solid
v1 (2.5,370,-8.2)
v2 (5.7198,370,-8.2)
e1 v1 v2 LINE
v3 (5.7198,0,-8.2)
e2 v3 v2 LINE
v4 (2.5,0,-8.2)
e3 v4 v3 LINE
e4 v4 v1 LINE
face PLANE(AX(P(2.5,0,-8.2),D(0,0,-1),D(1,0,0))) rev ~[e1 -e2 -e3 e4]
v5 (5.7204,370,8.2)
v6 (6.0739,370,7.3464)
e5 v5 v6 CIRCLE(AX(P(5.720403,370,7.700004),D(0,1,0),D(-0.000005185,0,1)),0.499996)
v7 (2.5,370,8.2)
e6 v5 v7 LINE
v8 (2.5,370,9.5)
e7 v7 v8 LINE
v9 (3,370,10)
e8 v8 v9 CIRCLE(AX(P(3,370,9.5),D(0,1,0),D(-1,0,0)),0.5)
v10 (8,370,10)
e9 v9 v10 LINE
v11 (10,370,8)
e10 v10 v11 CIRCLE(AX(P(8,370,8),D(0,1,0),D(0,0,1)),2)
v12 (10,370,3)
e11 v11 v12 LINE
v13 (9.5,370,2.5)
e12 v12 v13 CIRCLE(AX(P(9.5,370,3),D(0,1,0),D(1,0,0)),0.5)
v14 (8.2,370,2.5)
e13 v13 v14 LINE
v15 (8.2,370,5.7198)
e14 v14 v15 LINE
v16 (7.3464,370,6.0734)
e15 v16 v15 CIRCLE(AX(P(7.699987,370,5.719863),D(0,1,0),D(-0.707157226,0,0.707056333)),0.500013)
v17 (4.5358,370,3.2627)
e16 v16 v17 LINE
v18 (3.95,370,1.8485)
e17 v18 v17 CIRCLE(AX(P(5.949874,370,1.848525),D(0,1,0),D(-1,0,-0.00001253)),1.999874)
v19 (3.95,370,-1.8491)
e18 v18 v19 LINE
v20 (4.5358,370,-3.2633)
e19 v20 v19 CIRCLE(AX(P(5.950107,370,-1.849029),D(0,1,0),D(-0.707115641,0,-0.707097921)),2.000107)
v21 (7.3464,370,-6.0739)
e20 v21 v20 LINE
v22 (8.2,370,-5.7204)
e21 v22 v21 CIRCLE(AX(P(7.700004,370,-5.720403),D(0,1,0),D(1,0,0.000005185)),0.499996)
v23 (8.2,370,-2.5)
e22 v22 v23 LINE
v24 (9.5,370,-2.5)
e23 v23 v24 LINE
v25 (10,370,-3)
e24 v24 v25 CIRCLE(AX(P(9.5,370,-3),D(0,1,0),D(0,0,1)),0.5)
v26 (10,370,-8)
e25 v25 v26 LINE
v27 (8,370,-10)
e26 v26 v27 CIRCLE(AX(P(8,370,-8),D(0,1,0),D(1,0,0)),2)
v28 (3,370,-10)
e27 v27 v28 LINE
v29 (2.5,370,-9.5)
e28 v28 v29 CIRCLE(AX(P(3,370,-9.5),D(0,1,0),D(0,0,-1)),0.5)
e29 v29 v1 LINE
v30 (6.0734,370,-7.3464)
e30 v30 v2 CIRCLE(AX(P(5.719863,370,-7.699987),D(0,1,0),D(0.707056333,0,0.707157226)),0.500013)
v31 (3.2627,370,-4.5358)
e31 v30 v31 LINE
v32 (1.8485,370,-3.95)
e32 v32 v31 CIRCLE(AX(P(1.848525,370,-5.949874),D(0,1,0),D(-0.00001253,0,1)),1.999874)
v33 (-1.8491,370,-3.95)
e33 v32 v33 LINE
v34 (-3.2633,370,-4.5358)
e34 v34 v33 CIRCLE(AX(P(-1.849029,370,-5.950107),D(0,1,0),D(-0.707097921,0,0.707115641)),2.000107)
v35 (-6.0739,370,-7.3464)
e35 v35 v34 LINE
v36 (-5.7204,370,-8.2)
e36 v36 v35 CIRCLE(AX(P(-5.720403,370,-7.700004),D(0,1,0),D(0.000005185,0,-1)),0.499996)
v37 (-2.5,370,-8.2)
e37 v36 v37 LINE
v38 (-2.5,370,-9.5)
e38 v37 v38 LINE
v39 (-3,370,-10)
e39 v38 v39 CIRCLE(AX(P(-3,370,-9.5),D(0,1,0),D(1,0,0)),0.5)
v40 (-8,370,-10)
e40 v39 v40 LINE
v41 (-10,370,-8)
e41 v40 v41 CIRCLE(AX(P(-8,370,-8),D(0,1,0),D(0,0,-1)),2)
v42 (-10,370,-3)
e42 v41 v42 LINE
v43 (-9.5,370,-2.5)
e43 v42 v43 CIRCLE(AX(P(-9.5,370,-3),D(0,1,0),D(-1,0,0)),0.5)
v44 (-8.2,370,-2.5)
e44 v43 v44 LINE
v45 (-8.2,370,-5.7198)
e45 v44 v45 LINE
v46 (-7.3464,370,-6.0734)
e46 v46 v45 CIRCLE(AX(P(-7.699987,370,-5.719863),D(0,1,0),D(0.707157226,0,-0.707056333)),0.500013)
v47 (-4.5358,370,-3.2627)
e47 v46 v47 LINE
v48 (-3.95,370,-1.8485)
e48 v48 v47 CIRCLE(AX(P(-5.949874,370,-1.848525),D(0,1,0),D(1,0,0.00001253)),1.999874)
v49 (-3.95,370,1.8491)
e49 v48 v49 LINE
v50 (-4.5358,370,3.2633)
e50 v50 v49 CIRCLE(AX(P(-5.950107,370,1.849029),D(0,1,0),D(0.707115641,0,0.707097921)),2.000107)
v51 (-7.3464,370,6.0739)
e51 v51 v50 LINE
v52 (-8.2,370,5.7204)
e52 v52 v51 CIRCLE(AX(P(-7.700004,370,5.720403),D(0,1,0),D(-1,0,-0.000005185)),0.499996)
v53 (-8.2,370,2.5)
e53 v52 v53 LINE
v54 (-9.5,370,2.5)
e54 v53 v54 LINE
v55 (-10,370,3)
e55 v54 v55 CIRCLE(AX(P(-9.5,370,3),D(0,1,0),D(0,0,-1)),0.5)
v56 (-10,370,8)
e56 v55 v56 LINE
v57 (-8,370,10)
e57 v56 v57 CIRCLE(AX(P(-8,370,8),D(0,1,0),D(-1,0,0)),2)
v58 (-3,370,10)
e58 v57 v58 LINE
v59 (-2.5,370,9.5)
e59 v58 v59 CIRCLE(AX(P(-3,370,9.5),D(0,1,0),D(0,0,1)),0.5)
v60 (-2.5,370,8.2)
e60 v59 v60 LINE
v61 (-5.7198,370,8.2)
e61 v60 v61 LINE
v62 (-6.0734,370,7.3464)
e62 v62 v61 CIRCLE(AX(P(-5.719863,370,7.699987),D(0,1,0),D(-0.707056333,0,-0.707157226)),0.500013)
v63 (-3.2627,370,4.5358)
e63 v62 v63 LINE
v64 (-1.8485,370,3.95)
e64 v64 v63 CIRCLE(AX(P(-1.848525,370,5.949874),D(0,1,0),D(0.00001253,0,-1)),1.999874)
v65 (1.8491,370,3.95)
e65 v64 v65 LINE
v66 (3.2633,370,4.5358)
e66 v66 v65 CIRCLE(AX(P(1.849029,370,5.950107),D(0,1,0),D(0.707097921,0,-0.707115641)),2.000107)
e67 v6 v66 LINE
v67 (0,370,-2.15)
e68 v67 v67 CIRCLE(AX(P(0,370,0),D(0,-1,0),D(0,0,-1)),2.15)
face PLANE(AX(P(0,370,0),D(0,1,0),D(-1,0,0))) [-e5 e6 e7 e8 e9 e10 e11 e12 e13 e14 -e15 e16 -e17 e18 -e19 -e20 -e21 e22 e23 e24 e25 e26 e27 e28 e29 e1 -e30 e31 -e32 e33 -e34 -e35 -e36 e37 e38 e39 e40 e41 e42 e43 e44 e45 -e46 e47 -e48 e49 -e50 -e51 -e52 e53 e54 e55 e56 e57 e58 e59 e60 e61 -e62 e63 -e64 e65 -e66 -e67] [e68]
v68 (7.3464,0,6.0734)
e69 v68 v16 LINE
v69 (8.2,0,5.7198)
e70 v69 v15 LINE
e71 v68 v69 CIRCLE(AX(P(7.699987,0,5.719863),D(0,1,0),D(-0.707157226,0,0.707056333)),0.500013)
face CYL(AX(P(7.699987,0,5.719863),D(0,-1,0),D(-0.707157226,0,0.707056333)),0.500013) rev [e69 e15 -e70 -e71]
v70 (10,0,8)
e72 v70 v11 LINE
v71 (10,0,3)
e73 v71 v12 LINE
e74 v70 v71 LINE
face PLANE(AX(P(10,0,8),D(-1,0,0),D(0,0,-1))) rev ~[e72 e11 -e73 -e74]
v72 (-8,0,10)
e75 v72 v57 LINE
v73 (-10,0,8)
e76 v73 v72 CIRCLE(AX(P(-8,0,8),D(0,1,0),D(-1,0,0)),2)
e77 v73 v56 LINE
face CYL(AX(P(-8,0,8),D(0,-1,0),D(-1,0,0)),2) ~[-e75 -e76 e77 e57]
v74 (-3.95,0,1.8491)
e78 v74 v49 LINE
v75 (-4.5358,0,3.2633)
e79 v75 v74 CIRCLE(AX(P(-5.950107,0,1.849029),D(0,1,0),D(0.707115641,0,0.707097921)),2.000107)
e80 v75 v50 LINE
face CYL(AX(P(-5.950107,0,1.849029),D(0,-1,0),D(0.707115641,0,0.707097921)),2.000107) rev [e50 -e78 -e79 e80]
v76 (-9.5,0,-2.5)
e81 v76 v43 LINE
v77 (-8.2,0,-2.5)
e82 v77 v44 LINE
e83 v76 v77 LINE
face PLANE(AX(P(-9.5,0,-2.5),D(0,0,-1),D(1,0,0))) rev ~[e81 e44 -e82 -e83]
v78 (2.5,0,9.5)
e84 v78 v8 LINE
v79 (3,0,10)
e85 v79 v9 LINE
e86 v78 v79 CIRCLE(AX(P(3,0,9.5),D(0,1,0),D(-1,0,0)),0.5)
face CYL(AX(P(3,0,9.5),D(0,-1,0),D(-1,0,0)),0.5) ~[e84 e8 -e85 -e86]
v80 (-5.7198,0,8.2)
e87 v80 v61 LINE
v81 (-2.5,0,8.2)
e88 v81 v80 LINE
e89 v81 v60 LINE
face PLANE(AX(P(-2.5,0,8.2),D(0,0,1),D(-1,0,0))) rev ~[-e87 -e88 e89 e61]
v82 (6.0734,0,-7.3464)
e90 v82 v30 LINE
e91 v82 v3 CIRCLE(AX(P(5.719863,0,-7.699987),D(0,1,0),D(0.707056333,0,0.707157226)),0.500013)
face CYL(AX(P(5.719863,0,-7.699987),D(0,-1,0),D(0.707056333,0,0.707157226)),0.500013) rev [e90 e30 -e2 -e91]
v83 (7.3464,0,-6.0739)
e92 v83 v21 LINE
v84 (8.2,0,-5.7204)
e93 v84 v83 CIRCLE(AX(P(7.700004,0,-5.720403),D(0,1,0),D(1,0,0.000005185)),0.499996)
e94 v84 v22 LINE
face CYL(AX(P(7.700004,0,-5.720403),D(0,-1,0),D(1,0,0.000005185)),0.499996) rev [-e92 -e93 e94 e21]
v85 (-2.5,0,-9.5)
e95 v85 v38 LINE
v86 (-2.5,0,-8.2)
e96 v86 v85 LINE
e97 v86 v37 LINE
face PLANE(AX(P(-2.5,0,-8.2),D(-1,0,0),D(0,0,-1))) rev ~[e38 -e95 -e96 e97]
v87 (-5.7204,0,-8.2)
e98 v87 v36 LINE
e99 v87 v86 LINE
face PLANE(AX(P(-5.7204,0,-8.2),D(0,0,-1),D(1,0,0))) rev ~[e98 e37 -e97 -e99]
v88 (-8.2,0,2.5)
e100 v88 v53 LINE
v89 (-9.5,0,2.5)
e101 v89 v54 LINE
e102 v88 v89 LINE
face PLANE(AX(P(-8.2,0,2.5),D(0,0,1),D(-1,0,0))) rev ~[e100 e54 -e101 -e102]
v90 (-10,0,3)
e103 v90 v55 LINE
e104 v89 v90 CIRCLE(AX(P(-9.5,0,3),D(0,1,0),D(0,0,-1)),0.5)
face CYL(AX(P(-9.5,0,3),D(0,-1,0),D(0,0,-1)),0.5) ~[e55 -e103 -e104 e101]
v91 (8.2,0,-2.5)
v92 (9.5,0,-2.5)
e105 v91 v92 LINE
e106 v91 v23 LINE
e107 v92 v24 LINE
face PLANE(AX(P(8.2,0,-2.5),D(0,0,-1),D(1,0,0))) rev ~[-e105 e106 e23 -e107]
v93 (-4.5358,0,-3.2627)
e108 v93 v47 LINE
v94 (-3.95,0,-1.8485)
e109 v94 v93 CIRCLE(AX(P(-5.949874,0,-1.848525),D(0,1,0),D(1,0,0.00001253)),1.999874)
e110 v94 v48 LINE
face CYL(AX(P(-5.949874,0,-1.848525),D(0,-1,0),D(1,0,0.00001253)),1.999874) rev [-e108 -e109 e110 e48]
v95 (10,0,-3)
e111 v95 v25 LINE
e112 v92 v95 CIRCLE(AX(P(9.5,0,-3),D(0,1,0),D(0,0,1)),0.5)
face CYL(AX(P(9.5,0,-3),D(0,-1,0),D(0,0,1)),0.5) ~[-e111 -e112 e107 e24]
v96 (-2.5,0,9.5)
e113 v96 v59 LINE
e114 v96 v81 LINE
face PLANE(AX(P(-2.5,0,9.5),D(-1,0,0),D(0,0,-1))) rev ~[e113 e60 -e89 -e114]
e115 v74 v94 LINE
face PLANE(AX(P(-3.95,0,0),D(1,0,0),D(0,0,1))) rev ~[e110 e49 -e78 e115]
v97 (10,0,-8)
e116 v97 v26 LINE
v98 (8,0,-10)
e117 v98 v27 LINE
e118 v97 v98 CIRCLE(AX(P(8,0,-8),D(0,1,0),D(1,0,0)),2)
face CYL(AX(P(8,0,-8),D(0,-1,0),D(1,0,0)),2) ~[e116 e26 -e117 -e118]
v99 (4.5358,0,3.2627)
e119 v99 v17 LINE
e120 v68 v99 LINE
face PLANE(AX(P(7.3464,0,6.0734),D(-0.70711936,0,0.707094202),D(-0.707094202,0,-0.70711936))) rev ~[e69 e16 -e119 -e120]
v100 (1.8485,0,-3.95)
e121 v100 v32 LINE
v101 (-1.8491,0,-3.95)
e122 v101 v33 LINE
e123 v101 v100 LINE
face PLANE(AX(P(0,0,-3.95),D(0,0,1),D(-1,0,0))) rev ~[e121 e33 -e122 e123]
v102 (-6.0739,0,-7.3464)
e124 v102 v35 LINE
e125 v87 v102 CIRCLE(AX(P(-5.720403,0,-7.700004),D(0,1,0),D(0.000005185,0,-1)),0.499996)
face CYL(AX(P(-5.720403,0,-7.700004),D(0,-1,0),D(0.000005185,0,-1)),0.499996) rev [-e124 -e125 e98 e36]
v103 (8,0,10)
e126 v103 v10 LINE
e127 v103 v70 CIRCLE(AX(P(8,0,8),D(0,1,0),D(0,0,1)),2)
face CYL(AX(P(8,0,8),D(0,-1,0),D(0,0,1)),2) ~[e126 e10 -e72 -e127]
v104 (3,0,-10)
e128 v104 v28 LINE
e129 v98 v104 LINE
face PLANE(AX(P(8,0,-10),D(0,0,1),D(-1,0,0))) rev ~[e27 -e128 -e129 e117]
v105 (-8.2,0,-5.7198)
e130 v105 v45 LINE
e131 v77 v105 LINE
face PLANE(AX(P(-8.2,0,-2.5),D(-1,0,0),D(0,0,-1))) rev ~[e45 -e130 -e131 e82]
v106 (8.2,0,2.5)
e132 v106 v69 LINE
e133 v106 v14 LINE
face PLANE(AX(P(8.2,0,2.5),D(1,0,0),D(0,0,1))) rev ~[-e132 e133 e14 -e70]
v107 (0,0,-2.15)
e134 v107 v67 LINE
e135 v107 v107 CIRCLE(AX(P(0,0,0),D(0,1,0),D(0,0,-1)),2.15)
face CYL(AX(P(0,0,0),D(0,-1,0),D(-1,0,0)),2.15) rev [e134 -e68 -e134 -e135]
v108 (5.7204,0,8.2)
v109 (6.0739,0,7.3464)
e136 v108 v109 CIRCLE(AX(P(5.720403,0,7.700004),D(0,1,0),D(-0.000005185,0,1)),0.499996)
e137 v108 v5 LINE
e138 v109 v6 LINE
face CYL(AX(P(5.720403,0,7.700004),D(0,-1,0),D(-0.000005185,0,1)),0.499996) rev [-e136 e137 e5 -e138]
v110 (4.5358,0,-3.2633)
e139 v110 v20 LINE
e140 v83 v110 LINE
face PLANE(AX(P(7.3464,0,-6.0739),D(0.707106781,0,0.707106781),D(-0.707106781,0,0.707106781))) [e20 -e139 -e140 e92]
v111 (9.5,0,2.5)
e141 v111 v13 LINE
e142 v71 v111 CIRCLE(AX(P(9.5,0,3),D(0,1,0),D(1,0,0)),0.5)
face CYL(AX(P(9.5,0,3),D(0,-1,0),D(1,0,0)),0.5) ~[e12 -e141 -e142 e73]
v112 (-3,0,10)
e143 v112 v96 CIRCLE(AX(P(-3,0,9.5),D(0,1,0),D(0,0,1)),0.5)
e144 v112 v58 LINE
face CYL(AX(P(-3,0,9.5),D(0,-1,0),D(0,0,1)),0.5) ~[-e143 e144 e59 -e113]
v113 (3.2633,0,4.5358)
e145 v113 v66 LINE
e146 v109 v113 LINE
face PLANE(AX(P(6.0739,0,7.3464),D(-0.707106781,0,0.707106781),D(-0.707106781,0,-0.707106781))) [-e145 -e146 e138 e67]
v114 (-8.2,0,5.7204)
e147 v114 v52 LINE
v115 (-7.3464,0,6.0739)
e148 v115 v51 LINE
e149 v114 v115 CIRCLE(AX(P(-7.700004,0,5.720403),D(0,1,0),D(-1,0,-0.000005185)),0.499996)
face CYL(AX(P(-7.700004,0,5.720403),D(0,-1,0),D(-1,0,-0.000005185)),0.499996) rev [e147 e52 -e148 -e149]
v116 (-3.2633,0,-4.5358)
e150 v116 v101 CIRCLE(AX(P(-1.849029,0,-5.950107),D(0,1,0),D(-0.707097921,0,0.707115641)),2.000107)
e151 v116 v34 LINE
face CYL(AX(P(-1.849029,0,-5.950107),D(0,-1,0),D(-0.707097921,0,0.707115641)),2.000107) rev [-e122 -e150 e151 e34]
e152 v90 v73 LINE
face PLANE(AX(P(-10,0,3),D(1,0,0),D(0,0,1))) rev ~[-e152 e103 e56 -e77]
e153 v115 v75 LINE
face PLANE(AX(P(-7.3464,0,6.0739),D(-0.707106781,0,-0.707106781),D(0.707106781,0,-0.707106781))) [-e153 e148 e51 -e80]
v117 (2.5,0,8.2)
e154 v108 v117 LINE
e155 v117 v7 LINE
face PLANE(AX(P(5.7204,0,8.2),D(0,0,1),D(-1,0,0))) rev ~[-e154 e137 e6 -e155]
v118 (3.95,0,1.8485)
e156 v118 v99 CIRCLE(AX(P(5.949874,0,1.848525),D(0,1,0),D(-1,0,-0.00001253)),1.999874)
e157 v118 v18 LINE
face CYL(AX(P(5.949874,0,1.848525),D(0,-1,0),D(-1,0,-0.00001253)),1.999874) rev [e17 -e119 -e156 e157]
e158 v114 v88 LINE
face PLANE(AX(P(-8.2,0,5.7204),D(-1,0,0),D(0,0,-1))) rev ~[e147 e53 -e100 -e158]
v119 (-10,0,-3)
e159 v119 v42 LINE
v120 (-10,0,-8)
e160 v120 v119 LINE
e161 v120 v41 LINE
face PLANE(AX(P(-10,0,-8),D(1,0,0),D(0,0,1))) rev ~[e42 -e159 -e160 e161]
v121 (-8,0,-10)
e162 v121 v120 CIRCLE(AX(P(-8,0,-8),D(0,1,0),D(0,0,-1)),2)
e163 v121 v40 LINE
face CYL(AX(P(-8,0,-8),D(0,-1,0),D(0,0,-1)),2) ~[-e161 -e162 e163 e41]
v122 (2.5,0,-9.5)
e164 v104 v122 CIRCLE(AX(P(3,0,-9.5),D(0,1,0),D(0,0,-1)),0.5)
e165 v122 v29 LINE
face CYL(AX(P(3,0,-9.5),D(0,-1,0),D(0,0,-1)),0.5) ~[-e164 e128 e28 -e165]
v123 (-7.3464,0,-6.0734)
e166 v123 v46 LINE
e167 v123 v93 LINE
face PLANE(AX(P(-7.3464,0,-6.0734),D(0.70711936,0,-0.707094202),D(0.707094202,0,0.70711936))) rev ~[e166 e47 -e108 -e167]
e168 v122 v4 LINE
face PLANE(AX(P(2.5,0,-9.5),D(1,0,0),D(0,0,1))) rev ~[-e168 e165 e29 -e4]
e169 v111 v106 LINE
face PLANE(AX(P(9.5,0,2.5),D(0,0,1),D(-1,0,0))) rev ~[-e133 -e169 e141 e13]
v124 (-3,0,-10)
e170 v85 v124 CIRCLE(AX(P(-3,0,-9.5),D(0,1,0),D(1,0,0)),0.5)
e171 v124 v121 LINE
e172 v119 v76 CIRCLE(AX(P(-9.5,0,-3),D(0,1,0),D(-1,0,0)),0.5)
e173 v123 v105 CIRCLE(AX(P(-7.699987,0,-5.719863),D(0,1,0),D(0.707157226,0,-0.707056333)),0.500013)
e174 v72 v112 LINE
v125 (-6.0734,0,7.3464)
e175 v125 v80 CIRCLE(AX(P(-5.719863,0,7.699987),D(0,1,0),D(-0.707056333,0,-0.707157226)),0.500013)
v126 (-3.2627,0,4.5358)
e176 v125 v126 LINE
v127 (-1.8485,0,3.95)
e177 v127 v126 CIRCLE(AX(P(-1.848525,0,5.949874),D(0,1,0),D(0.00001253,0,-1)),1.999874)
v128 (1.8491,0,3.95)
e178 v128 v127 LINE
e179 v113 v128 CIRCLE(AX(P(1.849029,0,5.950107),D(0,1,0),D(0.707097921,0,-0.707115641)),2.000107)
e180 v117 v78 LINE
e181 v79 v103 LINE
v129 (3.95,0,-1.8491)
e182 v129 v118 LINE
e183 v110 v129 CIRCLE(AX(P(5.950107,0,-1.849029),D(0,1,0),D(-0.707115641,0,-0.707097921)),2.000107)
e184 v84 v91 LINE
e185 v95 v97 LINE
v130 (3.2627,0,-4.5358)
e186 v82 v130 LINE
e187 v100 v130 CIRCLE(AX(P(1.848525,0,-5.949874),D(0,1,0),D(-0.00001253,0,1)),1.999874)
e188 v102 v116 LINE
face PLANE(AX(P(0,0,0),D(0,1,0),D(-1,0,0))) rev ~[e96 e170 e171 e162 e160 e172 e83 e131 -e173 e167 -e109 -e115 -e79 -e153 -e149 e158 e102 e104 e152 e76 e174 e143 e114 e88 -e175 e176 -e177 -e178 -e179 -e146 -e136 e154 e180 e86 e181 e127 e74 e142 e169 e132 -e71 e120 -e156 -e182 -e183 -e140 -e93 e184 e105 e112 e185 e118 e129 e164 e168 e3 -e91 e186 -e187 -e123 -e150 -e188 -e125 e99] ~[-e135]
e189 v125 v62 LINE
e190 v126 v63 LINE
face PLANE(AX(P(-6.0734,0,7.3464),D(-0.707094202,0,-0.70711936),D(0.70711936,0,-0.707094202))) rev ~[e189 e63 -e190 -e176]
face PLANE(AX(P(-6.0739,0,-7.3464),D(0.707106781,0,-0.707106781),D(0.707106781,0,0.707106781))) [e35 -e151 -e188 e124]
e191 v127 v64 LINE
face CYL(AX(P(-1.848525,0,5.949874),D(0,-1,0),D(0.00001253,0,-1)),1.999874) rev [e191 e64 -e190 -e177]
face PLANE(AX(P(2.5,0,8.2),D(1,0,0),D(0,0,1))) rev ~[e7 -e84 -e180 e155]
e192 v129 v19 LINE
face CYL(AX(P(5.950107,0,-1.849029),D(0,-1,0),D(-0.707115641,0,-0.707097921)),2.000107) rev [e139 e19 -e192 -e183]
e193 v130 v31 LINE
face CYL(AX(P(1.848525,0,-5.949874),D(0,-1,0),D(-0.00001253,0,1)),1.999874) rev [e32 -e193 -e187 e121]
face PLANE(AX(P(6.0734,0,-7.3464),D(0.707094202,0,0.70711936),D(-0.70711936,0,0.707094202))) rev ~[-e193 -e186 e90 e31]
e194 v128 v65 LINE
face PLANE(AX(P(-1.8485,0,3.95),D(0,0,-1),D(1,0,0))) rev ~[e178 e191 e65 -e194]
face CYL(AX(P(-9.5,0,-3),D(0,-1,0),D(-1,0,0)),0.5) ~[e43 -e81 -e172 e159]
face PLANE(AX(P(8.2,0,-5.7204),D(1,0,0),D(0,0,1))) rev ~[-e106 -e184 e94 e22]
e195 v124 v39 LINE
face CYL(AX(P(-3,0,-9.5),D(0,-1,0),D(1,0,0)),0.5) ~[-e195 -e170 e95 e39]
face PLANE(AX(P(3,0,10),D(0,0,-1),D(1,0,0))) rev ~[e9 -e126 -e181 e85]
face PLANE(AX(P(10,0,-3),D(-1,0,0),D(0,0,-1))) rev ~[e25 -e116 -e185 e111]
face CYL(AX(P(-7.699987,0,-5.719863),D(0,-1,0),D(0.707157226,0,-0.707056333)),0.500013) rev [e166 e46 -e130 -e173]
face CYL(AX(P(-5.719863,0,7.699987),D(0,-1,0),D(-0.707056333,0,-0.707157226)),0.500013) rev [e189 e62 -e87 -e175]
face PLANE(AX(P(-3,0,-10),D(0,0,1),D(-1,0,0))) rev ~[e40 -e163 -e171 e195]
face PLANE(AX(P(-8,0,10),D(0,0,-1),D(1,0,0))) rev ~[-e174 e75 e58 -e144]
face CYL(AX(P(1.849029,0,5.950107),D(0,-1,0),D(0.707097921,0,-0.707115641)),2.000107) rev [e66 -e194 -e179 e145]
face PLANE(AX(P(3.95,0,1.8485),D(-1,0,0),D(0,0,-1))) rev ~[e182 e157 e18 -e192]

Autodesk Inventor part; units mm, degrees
ref_plane "YZ Plane" through (0, 0, 0) normal (1, 0, 0) x (0, 1, 0)
ref_plane "XZ Plane" through (0, 0, 0) normal (0, 1, 0) x (-1, 0, 0)
ref_plane "XY Plane" through (0, 0, 0) normal (0, 0, 1) x (1, 0, 0)
sketch "Sketch1" plane through (0, 0, 0) normal (0, 1, 0) x (-1, 0, 0)
  line L0 (8, 10) -> (3, 10)
  line L1 (10, 3) -> (10, 8)
  line L2 (2.5, 9.5) -> (2.5, 8.2)
  line L3 (2.5, 8.2) -> (5.7198, 8.2)
  line L4 (6.0734, 7.3464) -> (3.2627, 4.5358)
  line L5 (1.8485, 3.95) -> (0, 3.95)
  line L6 (0, 3.95) -> (0, 2.15)
  line L7 (0, 2.15) -> (0, 2.15)
  line L8 (2.15, 0) -> (2.15, 0)
  line L9 (2.15, 0) -> (3.95, 0)
  line L10 (8.2, 5.7204) -> (8.2, 2.5)
  line L11 (8.2, 2.5) -> (9.5, 2.5)
  line L12 (0, 29.0836) -> (0, -4.1523) construction
  line L13 (3.95, 0) -> (3.95, 1.8491)
  line L14 (7.3464, 6.0739) -> (4.5358, 3.2633)
  arc A0 (10, 8) -> (8, 10) centre (8, 8) ccw
  arc A1 (8.2, 5.7204) -> (7.3464, 6.0739) centre (7.7, 5.7204) ccw
  arc A2 (6.0734, 7.3464) -> (5.7198, 8.2) centre (5.7198, 7.7) ccw
  arc A3 (4.5358, 3.2633) -> (3.95, 1.8491) centre (5.95, 1.8491) ccw
  arc A4 (1.8485, 3.95) -> (3.2627, 4.5358) centre (1.8485, 5.95) ccw
  arc A5 (2.15, 0) -> (0, 2.15) centre (0, 0) ccw
  arc A6 (3, 10) -> (2.5, 9.5) centre (3, 9.5) ccw
  arc A7 (9.5, 2.5) -> (10, 3) centre (9.5, 3) ccw
  line L15 (18.5462, 0) -> (-9.9601, 0) construction
  line L16 (-3, 10) -> (-8, 10)
  arc A8 (-2.5, 9.5) -> (-3, 10) centre (-3, 9.5) ccw
  line L17 (-2.5, 8.2) -> (-2.5, 9.5)
  line L18 (-5.7204, 8.2) -> (-2.5, 8.2)
  arc A9 (-5.7204, 8.2) -> (-6.0739, 7.3464) centre (-5.7204, 7.7) ccw
  line L19 (-6.0739, 7.3464) -> (-3.2633, 4.5358)
  arc A10 (-3.2633, 4.5358) -> (-1.8491, 3.95) centre (-1.8491, 5.95) ccw
  line L20 (0, 3.95) -> (-1.8491, 3.95)
  line L21 (0, 2.15) -> (0, 3.95)
  arc A11 (0, 2.15) -> (-2.15, 0) centre (0, 0) ccw
  line L22 (-3.95, 0) -> (-2.15, 0)
  line L23 (-3.95, 1.8485) -> (-3.95, 0)
  arc A12 (-3.95, 1.8485) -> (-4.5358, 3.2627) centre (-5.95, 1.8485) ccw
  line L24 (-7.3464, 6.0734) -> (-4.5358, 3.2627)
  arc A13 (-7.3464, 6.0734) -> (-8.2, 5.7198) centre (-7.7, 5.7198) ccw
  line L25 (-8.2, 2.5) -> (-8.2, 5.7198)
  line L26 (-9.5, 2.5) -> (-8.2, 2.5)
  arc A14 (-10, 3) -> (-9.5, 2.5) centre (-9.5, 3) ccw
  line L27 (-10, 8) -> (-10, 3)
  arc A15 (-8, 10) -> (-10, 8) centre (-8, 8) ccw
  line L28 (-10, -3) -> (-10, -8)
  arc A16 (-9.5, -2.5) -> (-10, -3) centre (-9.5, -3) ccw
  line L29 (-8.2, -2.5) -> (-9.5, -2.5)
  line L30 (-8.2, -5.7204) -> (-8.2, -2.5)
  arc A17 (-8.2, -5.7204) -> (-7.3464, -6.0739) centre (-7.7, -5.7204) ccw
  line L31 (-7.3464, -6.0739) -> (-4.5358, -3.2633)
  arc A18 (-4.5358, -3.2633) -> (-3.95, -1.8491) centre (-5.95, -1.8491) ccw
  line L32 (-3.95, 0) -> (-3.95, -1.8491)
  line L33 (-2.15, 0) -> (-3.95, 0)
  arc A19 (-2.15, 0) -> (0, -2.15) centre (0, 0) ccw
  line L34 (0, -3.95) -> (0, -2.15)
  line L35 (-1.8485, -3.95) -> (0, -3.95)
  arc A20 (-1.8485, -3.95) -> (-3.2627, -4.5358) centre (-1.8485, -5.95) ccw
  line L36 (-6.0734, -7.3464) -> (-3.2627, -4.5358)
  arc A21 (-6.0734, -7.3464) -> (-5.7198, -8.2) centre (-5.7198, -7.7) ccw
  line L37 (-2.5, -8.2) -> (-5.7198, -8.2)
  line L38 (-2.5, -9.5) -> (-2.5, -8.2)
  arc A22 (-3, -10) -> (-2.5, -9.5) centre (-3, -9.5) ccw
  line L39 (-8, -10) -> (-3, -10)
  arc A23 (-10, -8) -> (-8, -10) centre (-8, -8) ccw
  line L40 (3, -10) -> (8, -10)
  arc A24 (2.5, -9.5) -> (3, -10) centre (3, -9.5) ccw
  line L41 (2.5, -8.2) -> (2.5, -9.5)
  line L42 (5.7204, -8.2) -> (2.5, -8.2)
  arc A25 (5.7204, -8.2) -> (6.0739, -7.3464) centre (5.7204, -7.7) ccw
  line L43 (6.0739, -7.3464) -> (3.2633, -4.5358)
  arc A26 (3.2633, -4.5358) -> (1.8491, -3.95) centre (1.8491, -5.95) ccw
  line L44 (0, -3.95) -> (1.8491, -3.95)
  line L45 (0, -2.15) -> (0, -3.95)
  arc A27 (0, -2.15) -> (2.15, 0) centre (0, 0) ccw
  line L46 (3.95, 0) -> (2.15, 0)
  line L47 (3.95, -1.8485) -> (3.95, 0)
  arc A28 (3.95, -1.8485) -> (4.5358, -3.2627) centre (5.95, -1.8485) ccw
  line L48 (7.3464, -6.0734) -> (4.5358, -3.2627)
  arc A29 (7.3464, -6.0734) -> (8.2, -5.7198) centre (7.7, -5.7198) ccw
  line L49 (8.2, -2.5) -> (8.2, -5.7198)
  line L50 (9.5, -2.5) -> (8.2, -2.5)
  arc A30 (10, -3) -> (9.5, -2.5) centre (9.5, -3) ccw
  line L51 (10, -8) -> (10, -3)
  arc A31 (8, -10) -> (10, -8) centre (8, -8) ccw
  point P0 (0, 0)
  point P1 (3.95, 2.6775)
  point P2 (-2.6775, 3.95)
  point P3 (0, 0)
  point P4 (-3.95, -2.6775)
  point P5 (0, 0)
  point P6 (2.6775, -3.95)
  point P7 (0, 0)
  dimension "d1" = 2.5
  dimension "d2" = 2.5
  dimension "d3" = 1.8
  dimension "d4" = 1.8
  dimension "d5" = 45
  dimension "d6" = 2.15
  dimension "d7" = 2.15
  dimension "d8" = 1.8
  dimension "d11" = 10
  dimension "d12" = 10
  dimension "d14" = 1.8
  dimension "d15" = 1.8
  dimension "d16" = 2.6775
  dimension "d18" = 2
  dimension "d19" = 0.5
  dimension "d20" = 2
  dimension "d21" = 2.15
  dimension "d22" = 0.5
  dimension "d25" = 360
extrude "Profil_20x20" add sketch "Sketch1" along normal blind 370 contours A0 L1 A7 L11 L10 A1 L14 A3 L13 L9 A5 L6 L5 A4 L4 A2 L3 L2 A6 L0 | L6 A11 L22 L23 A12 L24 A13 L25 L26 A14 L27 A15 L16 A8 L17 L18 A9 L19 A10 L20 | L47 A28 L48 A29 L49 L50 A30 L51 A31 L40 A24 L41 L42 A25 L43 A26 L44 L34 A27 L9 | A19 L34 L35 A20 L36 A21 L37 L38 A22 L39 A23 L28 A16 L29 L30 A17 L31 A18 L32 L22
properties part number "Profil_20x20_370"
